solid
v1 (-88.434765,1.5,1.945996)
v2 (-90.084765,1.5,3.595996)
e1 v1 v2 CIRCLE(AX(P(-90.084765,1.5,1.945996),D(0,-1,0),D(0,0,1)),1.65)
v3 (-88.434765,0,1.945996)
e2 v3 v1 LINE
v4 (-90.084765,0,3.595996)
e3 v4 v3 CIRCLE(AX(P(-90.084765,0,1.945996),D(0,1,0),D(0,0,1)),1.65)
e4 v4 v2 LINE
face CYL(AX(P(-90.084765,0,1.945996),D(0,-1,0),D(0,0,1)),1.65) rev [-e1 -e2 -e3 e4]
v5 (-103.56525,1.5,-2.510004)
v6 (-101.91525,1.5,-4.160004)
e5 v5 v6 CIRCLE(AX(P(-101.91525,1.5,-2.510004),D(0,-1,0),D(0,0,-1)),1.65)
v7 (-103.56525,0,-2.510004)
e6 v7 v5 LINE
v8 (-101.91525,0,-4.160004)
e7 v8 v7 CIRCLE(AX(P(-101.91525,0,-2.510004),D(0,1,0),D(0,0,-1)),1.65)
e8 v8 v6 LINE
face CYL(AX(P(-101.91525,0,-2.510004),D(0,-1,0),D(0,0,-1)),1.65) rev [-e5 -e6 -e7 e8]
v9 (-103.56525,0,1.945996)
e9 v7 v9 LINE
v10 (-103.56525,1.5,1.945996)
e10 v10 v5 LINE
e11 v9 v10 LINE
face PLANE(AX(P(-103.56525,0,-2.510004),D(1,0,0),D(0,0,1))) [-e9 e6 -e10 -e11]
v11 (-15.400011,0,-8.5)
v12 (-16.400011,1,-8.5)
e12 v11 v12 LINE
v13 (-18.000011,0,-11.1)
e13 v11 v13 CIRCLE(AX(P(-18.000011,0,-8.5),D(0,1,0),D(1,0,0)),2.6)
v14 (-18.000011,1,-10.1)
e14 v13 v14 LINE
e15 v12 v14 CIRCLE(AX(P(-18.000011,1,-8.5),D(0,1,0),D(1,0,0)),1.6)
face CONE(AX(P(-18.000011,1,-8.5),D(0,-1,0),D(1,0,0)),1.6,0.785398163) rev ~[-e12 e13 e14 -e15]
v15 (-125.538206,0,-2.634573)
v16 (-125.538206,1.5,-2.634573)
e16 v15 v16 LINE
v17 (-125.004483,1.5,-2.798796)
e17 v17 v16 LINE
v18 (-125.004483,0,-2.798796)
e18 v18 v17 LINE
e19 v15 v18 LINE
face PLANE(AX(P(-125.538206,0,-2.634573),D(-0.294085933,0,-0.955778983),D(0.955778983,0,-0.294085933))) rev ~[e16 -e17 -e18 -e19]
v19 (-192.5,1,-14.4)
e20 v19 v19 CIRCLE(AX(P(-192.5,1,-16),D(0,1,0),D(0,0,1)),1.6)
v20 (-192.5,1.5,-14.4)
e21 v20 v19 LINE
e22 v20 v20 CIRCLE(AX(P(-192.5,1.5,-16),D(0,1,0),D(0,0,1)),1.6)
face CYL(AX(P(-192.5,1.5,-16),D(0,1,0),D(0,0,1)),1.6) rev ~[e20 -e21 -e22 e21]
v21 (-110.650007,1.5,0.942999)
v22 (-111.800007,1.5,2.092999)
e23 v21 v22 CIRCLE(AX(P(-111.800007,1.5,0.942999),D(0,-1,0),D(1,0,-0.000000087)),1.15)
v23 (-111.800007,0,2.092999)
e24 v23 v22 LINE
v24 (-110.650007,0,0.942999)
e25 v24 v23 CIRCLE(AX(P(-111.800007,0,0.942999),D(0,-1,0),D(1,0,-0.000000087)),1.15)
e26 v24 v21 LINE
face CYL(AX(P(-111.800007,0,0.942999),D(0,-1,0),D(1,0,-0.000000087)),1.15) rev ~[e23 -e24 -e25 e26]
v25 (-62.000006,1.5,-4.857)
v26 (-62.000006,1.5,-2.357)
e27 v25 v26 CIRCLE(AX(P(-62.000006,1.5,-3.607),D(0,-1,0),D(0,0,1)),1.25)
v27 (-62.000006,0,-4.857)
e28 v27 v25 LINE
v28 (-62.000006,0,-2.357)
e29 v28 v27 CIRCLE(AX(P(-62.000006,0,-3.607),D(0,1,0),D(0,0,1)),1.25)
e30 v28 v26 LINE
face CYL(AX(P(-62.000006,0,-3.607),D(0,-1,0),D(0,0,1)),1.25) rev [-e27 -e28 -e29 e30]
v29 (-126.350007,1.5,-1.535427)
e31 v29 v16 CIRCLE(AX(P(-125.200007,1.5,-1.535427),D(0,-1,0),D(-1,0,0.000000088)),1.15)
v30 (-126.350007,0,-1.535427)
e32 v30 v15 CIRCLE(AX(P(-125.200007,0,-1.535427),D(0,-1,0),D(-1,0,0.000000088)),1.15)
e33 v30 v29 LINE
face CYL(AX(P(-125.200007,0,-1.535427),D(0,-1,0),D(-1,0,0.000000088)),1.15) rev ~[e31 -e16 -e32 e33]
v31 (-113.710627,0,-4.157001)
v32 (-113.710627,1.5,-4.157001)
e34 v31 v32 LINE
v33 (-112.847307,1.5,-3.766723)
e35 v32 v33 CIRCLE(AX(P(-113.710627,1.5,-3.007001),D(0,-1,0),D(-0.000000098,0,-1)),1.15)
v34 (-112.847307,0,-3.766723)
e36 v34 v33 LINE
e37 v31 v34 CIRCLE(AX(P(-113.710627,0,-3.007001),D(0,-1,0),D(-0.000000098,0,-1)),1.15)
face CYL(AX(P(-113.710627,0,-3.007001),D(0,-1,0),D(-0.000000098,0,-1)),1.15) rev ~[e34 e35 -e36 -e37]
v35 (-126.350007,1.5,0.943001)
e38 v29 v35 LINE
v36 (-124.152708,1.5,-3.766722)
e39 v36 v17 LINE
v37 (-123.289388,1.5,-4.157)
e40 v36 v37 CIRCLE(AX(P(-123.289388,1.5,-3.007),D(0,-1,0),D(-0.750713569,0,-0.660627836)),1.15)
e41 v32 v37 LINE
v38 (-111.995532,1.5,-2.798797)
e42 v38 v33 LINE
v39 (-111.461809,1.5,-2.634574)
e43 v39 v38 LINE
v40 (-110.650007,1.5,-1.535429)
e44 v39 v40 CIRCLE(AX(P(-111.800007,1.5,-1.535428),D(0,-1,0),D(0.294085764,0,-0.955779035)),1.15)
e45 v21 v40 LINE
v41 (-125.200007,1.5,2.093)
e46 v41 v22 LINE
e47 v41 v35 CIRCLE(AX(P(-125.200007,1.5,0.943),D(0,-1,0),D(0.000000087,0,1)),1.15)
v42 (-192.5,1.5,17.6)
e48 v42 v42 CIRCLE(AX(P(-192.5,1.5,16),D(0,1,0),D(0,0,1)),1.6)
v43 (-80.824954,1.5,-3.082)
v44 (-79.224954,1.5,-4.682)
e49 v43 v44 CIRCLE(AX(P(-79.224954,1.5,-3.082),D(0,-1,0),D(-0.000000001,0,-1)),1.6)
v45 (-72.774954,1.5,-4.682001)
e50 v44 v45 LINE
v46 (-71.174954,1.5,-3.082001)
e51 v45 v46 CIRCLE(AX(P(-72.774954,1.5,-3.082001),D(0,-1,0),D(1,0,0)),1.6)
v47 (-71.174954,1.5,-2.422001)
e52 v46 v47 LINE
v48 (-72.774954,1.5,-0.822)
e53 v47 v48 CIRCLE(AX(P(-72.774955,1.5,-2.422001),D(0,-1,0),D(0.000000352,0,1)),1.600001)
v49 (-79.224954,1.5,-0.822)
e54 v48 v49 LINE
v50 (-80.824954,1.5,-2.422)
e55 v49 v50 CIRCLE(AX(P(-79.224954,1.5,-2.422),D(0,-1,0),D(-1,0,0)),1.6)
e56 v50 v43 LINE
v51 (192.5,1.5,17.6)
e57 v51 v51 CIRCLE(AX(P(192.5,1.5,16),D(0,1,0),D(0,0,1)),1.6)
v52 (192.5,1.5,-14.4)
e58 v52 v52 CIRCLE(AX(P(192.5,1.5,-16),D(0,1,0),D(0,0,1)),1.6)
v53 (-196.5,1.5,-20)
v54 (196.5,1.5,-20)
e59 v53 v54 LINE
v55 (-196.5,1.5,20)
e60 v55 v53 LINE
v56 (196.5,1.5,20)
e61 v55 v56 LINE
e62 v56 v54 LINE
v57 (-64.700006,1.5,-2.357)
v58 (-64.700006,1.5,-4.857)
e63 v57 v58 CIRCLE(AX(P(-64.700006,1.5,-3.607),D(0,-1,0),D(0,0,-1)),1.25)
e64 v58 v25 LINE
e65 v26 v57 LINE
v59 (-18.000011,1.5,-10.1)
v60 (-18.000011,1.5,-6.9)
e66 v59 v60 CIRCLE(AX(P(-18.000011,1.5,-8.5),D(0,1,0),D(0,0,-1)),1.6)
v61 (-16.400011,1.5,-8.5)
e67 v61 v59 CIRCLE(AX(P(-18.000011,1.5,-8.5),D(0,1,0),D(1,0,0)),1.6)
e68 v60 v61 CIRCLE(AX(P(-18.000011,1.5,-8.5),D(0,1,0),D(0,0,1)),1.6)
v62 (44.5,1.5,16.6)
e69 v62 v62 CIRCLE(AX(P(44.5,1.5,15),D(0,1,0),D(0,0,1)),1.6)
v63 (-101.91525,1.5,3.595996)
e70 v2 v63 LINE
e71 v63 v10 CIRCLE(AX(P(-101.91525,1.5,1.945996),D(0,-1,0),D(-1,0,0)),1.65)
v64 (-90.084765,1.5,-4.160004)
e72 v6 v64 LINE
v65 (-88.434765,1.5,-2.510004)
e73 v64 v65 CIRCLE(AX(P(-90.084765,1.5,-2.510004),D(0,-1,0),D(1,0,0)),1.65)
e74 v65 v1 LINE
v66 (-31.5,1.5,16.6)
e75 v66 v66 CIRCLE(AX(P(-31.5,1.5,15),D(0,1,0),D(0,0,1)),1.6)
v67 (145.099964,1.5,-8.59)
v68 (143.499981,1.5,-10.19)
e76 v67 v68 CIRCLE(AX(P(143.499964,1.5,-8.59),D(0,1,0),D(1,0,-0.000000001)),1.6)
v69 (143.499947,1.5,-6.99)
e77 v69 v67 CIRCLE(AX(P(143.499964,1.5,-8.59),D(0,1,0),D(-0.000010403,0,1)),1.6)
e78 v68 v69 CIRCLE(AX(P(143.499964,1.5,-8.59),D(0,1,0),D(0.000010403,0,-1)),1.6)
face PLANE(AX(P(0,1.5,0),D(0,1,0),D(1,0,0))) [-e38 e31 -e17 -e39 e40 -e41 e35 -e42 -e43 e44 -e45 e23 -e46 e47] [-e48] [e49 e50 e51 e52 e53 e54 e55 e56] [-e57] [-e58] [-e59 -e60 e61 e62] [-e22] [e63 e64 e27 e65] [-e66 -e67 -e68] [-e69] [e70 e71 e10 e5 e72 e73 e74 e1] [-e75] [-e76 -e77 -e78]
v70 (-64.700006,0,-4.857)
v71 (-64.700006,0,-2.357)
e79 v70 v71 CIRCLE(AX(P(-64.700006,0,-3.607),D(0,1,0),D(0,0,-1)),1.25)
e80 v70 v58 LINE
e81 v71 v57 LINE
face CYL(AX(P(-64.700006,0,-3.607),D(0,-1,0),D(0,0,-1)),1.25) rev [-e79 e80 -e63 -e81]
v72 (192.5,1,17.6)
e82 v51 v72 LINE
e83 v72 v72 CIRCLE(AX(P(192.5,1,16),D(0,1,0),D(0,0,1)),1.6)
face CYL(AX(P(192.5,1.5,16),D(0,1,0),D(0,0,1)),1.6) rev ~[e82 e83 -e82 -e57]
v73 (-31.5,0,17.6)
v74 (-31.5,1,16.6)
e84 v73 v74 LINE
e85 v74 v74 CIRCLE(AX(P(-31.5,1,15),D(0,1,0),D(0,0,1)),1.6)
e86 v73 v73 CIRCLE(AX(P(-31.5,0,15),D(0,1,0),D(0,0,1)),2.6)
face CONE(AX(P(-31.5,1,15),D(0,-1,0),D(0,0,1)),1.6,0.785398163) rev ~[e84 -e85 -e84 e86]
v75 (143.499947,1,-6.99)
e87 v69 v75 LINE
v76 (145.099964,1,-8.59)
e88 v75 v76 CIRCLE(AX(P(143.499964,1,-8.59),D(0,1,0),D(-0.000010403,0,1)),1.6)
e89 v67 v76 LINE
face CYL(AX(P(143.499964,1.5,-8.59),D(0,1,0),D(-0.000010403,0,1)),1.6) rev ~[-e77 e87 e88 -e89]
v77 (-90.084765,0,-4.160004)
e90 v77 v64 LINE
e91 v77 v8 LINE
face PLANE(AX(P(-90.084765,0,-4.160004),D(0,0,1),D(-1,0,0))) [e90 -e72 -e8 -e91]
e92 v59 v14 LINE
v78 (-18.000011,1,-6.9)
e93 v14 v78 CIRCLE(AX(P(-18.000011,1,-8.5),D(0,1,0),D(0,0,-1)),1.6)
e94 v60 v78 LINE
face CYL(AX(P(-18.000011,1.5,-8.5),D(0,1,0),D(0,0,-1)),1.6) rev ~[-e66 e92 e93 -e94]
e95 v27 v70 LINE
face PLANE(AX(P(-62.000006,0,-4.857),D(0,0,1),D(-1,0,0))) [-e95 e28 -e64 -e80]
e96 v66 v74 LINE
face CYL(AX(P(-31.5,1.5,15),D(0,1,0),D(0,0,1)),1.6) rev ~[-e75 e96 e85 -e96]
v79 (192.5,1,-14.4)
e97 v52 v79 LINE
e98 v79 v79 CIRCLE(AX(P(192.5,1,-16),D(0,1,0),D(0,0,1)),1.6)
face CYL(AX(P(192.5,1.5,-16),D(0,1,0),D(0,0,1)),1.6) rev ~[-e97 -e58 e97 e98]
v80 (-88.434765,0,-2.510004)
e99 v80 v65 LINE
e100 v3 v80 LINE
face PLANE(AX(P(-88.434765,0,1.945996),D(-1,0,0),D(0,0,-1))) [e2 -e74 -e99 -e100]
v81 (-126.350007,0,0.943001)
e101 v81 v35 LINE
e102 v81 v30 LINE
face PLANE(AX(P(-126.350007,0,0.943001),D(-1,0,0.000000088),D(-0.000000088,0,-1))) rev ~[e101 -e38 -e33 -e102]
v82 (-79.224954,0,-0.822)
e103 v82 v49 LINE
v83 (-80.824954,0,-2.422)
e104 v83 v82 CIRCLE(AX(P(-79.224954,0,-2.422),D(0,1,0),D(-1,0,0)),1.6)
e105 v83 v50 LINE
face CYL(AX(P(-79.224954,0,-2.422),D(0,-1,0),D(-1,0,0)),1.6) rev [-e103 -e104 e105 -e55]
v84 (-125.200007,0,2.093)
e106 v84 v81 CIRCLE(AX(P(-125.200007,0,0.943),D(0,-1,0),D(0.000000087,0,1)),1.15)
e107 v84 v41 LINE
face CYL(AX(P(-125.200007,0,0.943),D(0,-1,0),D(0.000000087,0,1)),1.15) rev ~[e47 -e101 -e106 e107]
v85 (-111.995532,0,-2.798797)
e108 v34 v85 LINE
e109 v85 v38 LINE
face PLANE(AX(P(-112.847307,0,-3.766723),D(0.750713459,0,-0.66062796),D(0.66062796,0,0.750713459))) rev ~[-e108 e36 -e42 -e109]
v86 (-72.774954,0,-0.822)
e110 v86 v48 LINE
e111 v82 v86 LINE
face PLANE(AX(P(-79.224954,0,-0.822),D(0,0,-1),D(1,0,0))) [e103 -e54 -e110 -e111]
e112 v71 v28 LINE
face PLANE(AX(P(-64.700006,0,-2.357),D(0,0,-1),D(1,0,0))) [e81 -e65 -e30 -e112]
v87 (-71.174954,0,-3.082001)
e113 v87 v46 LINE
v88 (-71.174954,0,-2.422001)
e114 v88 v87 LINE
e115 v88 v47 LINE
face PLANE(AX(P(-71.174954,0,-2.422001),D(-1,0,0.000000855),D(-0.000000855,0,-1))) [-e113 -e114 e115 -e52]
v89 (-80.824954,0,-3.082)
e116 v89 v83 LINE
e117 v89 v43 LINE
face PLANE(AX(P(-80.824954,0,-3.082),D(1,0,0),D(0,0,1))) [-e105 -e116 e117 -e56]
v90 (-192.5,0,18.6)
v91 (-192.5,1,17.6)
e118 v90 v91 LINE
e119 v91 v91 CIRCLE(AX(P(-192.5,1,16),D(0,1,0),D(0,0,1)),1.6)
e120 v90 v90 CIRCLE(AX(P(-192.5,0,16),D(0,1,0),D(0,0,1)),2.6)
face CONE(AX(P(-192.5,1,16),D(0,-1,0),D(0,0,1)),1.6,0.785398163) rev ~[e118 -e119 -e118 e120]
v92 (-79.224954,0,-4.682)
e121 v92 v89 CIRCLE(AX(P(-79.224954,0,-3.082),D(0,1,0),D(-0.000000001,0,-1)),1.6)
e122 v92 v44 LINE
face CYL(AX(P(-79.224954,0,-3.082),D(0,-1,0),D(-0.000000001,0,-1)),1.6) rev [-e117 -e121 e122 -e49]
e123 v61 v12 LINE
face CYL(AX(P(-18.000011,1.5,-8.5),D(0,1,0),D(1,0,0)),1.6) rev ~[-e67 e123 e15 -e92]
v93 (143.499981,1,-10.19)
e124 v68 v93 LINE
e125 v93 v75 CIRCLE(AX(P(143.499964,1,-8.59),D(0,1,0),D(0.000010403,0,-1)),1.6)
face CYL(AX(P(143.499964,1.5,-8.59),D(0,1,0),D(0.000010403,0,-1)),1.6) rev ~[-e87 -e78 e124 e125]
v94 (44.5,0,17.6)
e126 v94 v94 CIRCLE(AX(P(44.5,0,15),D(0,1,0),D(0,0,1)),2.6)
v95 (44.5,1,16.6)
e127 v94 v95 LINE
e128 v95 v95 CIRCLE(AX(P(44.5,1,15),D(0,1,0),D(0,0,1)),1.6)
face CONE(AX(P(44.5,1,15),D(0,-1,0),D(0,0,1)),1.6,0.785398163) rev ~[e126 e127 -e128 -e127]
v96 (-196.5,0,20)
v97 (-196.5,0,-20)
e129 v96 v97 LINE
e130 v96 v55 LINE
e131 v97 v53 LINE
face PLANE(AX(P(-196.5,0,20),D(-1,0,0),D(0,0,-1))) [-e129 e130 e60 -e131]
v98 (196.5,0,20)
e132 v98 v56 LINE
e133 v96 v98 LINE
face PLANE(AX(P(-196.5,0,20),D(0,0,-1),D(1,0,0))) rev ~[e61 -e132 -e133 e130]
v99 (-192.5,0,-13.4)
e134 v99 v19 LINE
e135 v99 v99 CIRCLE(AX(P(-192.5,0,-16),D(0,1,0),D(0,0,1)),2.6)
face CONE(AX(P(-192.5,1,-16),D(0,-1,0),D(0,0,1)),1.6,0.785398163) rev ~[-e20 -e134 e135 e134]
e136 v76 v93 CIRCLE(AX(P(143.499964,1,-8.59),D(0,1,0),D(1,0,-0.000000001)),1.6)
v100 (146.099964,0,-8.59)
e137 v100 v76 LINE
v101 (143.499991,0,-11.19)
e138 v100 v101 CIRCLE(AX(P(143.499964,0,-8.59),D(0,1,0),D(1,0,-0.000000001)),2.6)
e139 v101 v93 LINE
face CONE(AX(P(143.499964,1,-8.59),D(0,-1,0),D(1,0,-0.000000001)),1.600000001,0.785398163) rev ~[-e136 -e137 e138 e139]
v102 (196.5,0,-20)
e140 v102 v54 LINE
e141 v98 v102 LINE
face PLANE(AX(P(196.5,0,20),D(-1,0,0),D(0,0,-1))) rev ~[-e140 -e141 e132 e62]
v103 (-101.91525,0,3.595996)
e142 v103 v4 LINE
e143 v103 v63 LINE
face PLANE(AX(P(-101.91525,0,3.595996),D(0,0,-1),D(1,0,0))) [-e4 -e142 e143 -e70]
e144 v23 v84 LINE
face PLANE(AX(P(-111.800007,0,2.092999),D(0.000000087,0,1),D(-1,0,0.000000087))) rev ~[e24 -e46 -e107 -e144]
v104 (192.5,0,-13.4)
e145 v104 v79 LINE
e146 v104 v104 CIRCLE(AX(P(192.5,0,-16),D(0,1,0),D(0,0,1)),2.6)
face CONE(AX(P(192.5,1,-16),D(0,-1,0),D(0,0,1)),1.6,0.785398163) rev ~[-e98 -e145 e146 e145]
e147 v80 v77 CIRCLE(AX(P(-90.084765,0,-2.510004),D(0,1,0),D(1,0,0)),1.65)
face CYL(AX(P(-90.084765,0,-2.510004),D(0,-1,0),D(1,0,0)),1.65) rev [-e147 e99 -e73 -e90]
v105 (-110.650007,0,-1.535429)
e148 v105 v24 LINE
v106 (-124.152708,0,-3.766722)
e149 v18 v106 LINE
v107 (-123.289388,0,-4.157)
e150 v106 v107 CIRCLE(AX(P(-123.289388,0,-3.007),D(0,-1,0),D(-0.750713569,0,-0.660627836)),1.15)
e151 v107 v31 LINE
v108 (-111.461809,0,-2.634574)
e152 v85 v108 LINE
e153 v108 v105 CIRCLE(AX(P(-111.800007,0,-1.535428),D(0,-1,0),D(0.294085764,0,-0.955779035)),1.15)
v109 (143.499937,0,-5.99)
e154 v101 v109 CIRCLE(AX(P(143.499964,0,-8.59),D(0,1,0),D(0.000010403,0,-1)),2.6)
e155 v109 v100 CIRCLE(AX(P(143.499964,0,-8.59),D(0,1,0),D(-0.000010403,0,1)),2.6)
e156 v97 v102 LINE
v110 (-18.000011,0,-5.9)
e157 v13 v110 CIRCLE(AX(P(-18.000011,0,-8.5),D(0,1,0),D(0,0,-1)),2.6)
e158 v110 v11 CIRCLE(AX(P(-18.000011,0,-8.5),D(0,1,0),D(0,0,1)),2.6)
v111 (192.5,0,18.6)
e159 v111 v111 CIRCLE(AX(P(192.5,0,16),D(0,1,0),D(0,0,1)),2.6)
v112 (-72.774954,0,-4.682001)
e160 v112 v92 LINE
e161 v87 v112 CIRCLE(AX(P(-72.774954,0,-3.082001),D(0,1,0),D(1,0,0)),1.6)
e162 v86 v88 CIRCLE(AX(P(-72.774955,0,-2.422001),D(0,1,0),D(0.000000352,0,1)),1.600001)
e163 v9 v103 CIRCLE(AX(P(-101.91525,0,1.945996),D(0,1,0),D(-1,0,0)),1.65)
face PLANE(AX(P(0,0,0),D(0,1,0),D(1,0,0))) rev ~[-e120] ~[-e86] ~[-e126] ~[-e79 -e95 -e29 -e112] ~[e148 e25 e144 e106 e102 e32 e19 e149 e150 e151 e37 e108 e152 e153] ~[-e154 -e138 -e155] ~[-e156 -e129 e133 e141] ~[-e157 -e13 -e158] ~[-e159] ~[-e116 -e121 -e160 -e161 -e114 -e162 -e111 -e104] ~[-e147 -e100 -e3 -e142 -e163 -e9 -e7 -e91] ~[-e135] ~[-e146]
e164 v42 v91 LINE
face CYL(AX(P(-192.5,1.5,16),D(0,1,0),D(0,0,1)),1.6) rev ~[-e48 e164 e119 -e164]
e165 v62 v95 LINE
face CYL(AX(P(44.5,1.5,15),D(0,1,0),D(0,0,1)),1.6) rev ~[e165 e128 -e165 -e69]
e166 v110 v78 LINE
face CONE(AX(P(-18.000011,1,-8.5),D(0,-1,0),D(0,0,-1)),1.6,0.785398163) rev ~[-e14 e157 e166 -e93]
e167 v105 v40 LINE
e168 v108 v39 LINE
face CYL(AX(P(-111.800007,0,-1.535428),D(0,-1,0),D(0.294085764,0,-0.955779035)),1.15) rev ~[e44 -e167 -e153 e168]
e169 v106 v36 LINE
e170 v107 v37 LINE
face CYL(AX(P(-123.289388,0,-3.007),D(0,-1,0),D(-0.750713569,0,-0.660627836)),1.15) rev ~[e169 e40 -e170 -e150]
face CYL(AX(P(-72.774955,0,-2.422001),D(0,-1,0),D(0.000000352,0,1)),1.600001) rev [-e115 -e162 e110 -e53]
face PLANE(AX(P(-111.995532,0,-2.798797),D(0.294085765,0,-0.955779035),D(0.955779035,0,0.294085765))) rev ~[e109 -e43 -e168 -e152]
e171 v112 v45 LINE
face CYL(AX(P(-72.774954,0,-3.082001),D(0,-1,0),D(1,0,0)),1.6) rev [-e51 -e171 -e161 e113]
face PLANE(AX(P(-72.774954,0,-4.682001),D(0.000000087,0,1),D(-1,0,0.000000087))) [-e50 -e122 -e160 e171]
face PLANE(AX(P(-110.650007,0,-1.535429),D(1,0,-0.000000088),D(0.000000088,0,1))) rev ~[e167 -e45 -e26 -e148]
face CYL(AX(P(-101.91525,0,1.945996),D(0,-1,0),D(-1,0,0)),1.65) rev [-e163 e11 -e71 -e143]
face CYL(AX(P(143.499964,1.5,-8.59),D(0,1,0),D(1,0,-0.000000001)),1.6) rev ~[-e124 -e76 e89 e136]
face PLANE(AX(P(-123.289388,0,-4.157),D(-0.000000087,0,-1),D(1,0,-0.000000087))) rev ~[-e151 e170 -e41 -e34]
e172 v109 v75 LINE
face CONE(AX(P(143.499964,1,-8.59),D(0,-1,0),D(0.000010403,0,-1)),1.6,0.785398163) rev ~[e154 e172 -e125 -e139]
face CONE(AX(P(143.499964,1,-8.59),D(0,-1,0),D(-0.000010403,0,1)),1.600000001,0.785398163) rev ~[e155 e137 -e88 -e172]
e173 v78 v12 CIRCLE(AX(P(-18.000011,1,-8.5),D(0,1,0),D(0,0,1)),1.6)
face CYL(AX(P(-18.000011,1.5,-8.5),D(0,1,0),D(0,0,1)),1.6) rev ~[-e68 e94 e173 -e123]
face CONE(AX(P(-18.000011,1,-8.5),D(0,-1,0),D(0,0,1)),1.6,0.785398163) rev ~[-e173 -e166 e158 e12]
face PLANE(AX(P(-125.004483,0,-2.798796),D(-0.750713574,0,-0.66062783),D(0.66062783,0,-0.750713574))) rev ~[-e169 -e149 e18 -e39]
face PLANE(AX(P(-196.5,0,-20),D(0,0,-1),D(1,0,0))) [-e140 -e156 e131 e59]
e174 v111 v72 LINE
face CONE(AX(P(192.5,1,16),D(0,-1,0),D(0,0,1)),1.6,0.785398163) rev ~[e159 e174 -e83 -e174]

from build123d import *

# Parameters (mm, degrees)
SKIZZE1_W                       = 393
SKIZZE1_H                       = 40
AUFSATZ_LINEAR_AUSTRAGEN1_DEPTH = 1.5
SKIZZE2_R                       = 1.6
SCHNITT_LINEAR_AUSTRAGEN1_DEPTH = 198.520884972
FASE1_SIZE                      = 1
SCHNITT_LINEAR_AUSTRAGEN2_DEPTH = 198.520884972


with BuildPart() as part:
    # Skizze1 → Aufsatz-Linear austragen1 (new body)
    with BuildSketch(Plane(origin=(0, 0, 0), x_dir=(1, 0, 0), z_dir=(0, 1, 0))):
        Rectangle(SKIZZE1_W, SKIZZE1_H)
    extrude(amount=AUFSATZ_LINEAR_AUSTRAGEN1_DEPTH)

    # Skizze2 → Schnitt-Linear austragen1 (cut, through all)
    with BuildSketch(Plane(origin=(0, 1.5, 0), x_dir=(1, 0, 0), z_dir=(0, 1, 0))):
        with Locations(Location((-192.5, 16, 0), (0, 0, 270))):
            Circle(SKIZZE2_R)
        with Locations(Location((-192.5, -16, 0), (0, 0, 270))):
            Circle(SKIZZE2_R)
        with Locations(Location((192.5, -16, 0), (0, 0, 270))):
            Circle(SKIZZE2_R)
        with Locations(Location((192.5, 16, 0), (0, 0, 270))):
            Circle(SKIZZE2_R)
        with Locations(Location((44.5, -15, 0), (0, 0, 270))):
            Circle(SKIZZE2_R)
        with BuildLine():
            ThreePointArc((-16.400011, 8.5), (-16.86864015, 9.63137085), (-18.000011, 10.1))
            Line((-18.000011, 10.1), (-18.000011, 6.9))
            ThreePointArc((-18.000011, 6.9), (-16.86864015, 7.36862915), (-16.400011, 8.5))
        make_face()
        with BuildLine():
            Line((-18.000011, 6.9), (-18.000011, 10.1))
            ThreePointArc((-18.000011, 10.1), (-19.600011, 8.5), (-18.000011, 6.9))
        make_face()
        with BuildLine():
            ThreePointArc((145.099964038, 8.589999773), (144.631340773, 9.721364737), (143.499980683, 10.189999773))
            Line((143.499980683, 10.189999773), (143.499947392, 6.989999773))
            ThreePointArc((143.499947392, 6.989999773), (144.631329002, 7.458623038), (145.099964038, 8.589999773))
        make_face()
        with BuildLine():
            Line((143.499947392, 6.989999773), (143.499980683, 10.189999773))
            ThreePointArc((143.499980683, 10.189999773), (141.899964038, 8.590016418), (143.499947392, 6.989999773))
        make_face()
        with Locations(Location((-31.5, -15, 0), (0, 0, 270))):
            Circle(SKIZZE2_R)
    extrude(amount=-SCHNITT_LINEAR_AUSTRAGEN1_DEPTH, mode=Mode.SUBTRACT)

    # Fase1
    fase1_edges = [part.edges().sort_by_distance(p)[0] for p in [
        (44.5, 0, 13.4),
        (192.5, 0, -17.6),
        (192.5, 0, 14.4),
        (-192.5, 0, 14.4),
        (-18.000011, 0, -10.1),
        (143.499947392, 0, -6.989999773),
        (-31.5, 0, 13.4),
        (-192.5, 0, -17.6),
    ]]
    chamfer(fase1_edges, length=FASE1_SIZE)

    # Skizze3 → Schnitt-Linear austragen2 (cut, through all)
    with BuildSketch(Plane.XZ):
        with BuildLine():
            Line((-64.700005979, -2.35700022), (-62.000005979, -2.35700022))
            ThreePointArc((-62.000005979, -2.35700022), (-60.750005979, -3.60700022), (-62.000005979, -4.85700022))
            Line((-62.000005979, -4.85700022), (-64.700005979, -4.85700022))
            ThreePointArc((-64.700005979, -4.85700022), (-65.950005979, -3.60700022), (-64.700005979, -2.35700022))
        make_face()
        with BuildLine():
            Line((-111.800007059, 2.092999135), (-125.200007059, 2.093000306))
            ThreePointArc((-125.200007059, 2.093000306), (-126.013179849, 1.756173213), (-126.350007159, 0.943000513))
            Line((-126.350007159, 0.943000513), (-126.350007376, -1.535427197))
            ThreePointArc((-126.350007376, -1.535427197), (-126.125055687, -2.21864441), (-125.538206197, -2.634573128))
            Line((-125.538206197, -2.634573128), (-125.004483233, -2.79879563))
            Line((-125.004483233, -2.79879563), (-124.152708289, -3.766721872))
            ThreePointArc((-124.152708289, -3.766721872), (-123.763106884, -4.054897814), (-123.289387767, -4.156999861))
            Line((-123.289387767, -4.156999861), (-113.710627438, -4.157000698))
            ThreePointArc((-113.710627438, -4.157000698), (-113.236908304, -4.054898732), (-112.847306849, -3.766722856))
            Line((-112.847306849, -3.766722856), (-111.995531741, -2.798796767))
            Line((-111.995531741, -2.798796767), (-111.461808748, -2.634574359))
            ThreePointArc((-111.461808748, -2.634574359), (-110.874959185, -2.218645743), (-110.650007376, -1.535428569))
            Line((-110.650007376, -1.535428569), (-110.650007159, 0.942999034))
            ThreePointArc((-110.650007159, 0.942999034), (-110.98683429, 1.756171862), (-111.800007059, 2.092999135))
        make_face()
        with BuildLine():
            Line((-101.915250235, 3.595995958), (-90.084765307, 3.595995958))
            ThreePointArc((-90.084765307, 3.595995958), (-88.918039118, 3.112722147), (-88.434765307, 1.945995958))
            Line((-88.434765307, 1.945995958), (-88.434765307, -2.510004042))
            ThreePointArc((-88.434765307, -2.510004042), (-88.918039118, -3.676730231), (-90.084765307, -4.160004042))
            Line((-90.084765307, -4.160004042), (-101.915250235, -4.160004042))
            ThreePointArc((-101.915250235, -4.160004042), (-103.081976424, -3.676730231), (-103.565250235, -2.510004042))
            Line((-103.565250235, -2.510004042), (-103.565250235, 1.945995958))
            ThreePointArc((-103.565250235, 1.945995958), (-103.081976424, 3.112722147), (-101.915250235, 3.595995958))
        make_face()
        with BuildLine():
            Line((-79.224953939, -0.821999997), (-72.774953939, -0.821999997))
            ThreePointArc((-72.774953939, -0.821999997), (-71.643582904, -1.290629498), (-71.174953542, -2.42200059))
            Line((-71.174953542, -2.42200059), (-71.174954106, -3.082000561))
            ThreePointArc((-71.174954106, -3.082000561), (-71.643583256, -4.213371411), (-72.774954106, -4.682000561))
            Line((-72.774954106, -4.682000561), (-79.224954215, -4.681999997))
            ThreePointArc((-79.224954215, -4.681999997), (-80.356325086, -4.21337078), (-80.824954106, -3.081999827))
            Line((-80.824954106, -3.081999827), (-80.824954106, -2.422000164))
            ThreePointArc((-80.824954106, -2.422000164), (-80.356324907, -1.290629196), (-79.224953939, -0.821999997))
        make_face()
    extrude(amount=-SCHNITT_LINEAR_AUSTRAGEN2_DEPTH, mode=Mode.SUBTRACT)


solid = part.part
